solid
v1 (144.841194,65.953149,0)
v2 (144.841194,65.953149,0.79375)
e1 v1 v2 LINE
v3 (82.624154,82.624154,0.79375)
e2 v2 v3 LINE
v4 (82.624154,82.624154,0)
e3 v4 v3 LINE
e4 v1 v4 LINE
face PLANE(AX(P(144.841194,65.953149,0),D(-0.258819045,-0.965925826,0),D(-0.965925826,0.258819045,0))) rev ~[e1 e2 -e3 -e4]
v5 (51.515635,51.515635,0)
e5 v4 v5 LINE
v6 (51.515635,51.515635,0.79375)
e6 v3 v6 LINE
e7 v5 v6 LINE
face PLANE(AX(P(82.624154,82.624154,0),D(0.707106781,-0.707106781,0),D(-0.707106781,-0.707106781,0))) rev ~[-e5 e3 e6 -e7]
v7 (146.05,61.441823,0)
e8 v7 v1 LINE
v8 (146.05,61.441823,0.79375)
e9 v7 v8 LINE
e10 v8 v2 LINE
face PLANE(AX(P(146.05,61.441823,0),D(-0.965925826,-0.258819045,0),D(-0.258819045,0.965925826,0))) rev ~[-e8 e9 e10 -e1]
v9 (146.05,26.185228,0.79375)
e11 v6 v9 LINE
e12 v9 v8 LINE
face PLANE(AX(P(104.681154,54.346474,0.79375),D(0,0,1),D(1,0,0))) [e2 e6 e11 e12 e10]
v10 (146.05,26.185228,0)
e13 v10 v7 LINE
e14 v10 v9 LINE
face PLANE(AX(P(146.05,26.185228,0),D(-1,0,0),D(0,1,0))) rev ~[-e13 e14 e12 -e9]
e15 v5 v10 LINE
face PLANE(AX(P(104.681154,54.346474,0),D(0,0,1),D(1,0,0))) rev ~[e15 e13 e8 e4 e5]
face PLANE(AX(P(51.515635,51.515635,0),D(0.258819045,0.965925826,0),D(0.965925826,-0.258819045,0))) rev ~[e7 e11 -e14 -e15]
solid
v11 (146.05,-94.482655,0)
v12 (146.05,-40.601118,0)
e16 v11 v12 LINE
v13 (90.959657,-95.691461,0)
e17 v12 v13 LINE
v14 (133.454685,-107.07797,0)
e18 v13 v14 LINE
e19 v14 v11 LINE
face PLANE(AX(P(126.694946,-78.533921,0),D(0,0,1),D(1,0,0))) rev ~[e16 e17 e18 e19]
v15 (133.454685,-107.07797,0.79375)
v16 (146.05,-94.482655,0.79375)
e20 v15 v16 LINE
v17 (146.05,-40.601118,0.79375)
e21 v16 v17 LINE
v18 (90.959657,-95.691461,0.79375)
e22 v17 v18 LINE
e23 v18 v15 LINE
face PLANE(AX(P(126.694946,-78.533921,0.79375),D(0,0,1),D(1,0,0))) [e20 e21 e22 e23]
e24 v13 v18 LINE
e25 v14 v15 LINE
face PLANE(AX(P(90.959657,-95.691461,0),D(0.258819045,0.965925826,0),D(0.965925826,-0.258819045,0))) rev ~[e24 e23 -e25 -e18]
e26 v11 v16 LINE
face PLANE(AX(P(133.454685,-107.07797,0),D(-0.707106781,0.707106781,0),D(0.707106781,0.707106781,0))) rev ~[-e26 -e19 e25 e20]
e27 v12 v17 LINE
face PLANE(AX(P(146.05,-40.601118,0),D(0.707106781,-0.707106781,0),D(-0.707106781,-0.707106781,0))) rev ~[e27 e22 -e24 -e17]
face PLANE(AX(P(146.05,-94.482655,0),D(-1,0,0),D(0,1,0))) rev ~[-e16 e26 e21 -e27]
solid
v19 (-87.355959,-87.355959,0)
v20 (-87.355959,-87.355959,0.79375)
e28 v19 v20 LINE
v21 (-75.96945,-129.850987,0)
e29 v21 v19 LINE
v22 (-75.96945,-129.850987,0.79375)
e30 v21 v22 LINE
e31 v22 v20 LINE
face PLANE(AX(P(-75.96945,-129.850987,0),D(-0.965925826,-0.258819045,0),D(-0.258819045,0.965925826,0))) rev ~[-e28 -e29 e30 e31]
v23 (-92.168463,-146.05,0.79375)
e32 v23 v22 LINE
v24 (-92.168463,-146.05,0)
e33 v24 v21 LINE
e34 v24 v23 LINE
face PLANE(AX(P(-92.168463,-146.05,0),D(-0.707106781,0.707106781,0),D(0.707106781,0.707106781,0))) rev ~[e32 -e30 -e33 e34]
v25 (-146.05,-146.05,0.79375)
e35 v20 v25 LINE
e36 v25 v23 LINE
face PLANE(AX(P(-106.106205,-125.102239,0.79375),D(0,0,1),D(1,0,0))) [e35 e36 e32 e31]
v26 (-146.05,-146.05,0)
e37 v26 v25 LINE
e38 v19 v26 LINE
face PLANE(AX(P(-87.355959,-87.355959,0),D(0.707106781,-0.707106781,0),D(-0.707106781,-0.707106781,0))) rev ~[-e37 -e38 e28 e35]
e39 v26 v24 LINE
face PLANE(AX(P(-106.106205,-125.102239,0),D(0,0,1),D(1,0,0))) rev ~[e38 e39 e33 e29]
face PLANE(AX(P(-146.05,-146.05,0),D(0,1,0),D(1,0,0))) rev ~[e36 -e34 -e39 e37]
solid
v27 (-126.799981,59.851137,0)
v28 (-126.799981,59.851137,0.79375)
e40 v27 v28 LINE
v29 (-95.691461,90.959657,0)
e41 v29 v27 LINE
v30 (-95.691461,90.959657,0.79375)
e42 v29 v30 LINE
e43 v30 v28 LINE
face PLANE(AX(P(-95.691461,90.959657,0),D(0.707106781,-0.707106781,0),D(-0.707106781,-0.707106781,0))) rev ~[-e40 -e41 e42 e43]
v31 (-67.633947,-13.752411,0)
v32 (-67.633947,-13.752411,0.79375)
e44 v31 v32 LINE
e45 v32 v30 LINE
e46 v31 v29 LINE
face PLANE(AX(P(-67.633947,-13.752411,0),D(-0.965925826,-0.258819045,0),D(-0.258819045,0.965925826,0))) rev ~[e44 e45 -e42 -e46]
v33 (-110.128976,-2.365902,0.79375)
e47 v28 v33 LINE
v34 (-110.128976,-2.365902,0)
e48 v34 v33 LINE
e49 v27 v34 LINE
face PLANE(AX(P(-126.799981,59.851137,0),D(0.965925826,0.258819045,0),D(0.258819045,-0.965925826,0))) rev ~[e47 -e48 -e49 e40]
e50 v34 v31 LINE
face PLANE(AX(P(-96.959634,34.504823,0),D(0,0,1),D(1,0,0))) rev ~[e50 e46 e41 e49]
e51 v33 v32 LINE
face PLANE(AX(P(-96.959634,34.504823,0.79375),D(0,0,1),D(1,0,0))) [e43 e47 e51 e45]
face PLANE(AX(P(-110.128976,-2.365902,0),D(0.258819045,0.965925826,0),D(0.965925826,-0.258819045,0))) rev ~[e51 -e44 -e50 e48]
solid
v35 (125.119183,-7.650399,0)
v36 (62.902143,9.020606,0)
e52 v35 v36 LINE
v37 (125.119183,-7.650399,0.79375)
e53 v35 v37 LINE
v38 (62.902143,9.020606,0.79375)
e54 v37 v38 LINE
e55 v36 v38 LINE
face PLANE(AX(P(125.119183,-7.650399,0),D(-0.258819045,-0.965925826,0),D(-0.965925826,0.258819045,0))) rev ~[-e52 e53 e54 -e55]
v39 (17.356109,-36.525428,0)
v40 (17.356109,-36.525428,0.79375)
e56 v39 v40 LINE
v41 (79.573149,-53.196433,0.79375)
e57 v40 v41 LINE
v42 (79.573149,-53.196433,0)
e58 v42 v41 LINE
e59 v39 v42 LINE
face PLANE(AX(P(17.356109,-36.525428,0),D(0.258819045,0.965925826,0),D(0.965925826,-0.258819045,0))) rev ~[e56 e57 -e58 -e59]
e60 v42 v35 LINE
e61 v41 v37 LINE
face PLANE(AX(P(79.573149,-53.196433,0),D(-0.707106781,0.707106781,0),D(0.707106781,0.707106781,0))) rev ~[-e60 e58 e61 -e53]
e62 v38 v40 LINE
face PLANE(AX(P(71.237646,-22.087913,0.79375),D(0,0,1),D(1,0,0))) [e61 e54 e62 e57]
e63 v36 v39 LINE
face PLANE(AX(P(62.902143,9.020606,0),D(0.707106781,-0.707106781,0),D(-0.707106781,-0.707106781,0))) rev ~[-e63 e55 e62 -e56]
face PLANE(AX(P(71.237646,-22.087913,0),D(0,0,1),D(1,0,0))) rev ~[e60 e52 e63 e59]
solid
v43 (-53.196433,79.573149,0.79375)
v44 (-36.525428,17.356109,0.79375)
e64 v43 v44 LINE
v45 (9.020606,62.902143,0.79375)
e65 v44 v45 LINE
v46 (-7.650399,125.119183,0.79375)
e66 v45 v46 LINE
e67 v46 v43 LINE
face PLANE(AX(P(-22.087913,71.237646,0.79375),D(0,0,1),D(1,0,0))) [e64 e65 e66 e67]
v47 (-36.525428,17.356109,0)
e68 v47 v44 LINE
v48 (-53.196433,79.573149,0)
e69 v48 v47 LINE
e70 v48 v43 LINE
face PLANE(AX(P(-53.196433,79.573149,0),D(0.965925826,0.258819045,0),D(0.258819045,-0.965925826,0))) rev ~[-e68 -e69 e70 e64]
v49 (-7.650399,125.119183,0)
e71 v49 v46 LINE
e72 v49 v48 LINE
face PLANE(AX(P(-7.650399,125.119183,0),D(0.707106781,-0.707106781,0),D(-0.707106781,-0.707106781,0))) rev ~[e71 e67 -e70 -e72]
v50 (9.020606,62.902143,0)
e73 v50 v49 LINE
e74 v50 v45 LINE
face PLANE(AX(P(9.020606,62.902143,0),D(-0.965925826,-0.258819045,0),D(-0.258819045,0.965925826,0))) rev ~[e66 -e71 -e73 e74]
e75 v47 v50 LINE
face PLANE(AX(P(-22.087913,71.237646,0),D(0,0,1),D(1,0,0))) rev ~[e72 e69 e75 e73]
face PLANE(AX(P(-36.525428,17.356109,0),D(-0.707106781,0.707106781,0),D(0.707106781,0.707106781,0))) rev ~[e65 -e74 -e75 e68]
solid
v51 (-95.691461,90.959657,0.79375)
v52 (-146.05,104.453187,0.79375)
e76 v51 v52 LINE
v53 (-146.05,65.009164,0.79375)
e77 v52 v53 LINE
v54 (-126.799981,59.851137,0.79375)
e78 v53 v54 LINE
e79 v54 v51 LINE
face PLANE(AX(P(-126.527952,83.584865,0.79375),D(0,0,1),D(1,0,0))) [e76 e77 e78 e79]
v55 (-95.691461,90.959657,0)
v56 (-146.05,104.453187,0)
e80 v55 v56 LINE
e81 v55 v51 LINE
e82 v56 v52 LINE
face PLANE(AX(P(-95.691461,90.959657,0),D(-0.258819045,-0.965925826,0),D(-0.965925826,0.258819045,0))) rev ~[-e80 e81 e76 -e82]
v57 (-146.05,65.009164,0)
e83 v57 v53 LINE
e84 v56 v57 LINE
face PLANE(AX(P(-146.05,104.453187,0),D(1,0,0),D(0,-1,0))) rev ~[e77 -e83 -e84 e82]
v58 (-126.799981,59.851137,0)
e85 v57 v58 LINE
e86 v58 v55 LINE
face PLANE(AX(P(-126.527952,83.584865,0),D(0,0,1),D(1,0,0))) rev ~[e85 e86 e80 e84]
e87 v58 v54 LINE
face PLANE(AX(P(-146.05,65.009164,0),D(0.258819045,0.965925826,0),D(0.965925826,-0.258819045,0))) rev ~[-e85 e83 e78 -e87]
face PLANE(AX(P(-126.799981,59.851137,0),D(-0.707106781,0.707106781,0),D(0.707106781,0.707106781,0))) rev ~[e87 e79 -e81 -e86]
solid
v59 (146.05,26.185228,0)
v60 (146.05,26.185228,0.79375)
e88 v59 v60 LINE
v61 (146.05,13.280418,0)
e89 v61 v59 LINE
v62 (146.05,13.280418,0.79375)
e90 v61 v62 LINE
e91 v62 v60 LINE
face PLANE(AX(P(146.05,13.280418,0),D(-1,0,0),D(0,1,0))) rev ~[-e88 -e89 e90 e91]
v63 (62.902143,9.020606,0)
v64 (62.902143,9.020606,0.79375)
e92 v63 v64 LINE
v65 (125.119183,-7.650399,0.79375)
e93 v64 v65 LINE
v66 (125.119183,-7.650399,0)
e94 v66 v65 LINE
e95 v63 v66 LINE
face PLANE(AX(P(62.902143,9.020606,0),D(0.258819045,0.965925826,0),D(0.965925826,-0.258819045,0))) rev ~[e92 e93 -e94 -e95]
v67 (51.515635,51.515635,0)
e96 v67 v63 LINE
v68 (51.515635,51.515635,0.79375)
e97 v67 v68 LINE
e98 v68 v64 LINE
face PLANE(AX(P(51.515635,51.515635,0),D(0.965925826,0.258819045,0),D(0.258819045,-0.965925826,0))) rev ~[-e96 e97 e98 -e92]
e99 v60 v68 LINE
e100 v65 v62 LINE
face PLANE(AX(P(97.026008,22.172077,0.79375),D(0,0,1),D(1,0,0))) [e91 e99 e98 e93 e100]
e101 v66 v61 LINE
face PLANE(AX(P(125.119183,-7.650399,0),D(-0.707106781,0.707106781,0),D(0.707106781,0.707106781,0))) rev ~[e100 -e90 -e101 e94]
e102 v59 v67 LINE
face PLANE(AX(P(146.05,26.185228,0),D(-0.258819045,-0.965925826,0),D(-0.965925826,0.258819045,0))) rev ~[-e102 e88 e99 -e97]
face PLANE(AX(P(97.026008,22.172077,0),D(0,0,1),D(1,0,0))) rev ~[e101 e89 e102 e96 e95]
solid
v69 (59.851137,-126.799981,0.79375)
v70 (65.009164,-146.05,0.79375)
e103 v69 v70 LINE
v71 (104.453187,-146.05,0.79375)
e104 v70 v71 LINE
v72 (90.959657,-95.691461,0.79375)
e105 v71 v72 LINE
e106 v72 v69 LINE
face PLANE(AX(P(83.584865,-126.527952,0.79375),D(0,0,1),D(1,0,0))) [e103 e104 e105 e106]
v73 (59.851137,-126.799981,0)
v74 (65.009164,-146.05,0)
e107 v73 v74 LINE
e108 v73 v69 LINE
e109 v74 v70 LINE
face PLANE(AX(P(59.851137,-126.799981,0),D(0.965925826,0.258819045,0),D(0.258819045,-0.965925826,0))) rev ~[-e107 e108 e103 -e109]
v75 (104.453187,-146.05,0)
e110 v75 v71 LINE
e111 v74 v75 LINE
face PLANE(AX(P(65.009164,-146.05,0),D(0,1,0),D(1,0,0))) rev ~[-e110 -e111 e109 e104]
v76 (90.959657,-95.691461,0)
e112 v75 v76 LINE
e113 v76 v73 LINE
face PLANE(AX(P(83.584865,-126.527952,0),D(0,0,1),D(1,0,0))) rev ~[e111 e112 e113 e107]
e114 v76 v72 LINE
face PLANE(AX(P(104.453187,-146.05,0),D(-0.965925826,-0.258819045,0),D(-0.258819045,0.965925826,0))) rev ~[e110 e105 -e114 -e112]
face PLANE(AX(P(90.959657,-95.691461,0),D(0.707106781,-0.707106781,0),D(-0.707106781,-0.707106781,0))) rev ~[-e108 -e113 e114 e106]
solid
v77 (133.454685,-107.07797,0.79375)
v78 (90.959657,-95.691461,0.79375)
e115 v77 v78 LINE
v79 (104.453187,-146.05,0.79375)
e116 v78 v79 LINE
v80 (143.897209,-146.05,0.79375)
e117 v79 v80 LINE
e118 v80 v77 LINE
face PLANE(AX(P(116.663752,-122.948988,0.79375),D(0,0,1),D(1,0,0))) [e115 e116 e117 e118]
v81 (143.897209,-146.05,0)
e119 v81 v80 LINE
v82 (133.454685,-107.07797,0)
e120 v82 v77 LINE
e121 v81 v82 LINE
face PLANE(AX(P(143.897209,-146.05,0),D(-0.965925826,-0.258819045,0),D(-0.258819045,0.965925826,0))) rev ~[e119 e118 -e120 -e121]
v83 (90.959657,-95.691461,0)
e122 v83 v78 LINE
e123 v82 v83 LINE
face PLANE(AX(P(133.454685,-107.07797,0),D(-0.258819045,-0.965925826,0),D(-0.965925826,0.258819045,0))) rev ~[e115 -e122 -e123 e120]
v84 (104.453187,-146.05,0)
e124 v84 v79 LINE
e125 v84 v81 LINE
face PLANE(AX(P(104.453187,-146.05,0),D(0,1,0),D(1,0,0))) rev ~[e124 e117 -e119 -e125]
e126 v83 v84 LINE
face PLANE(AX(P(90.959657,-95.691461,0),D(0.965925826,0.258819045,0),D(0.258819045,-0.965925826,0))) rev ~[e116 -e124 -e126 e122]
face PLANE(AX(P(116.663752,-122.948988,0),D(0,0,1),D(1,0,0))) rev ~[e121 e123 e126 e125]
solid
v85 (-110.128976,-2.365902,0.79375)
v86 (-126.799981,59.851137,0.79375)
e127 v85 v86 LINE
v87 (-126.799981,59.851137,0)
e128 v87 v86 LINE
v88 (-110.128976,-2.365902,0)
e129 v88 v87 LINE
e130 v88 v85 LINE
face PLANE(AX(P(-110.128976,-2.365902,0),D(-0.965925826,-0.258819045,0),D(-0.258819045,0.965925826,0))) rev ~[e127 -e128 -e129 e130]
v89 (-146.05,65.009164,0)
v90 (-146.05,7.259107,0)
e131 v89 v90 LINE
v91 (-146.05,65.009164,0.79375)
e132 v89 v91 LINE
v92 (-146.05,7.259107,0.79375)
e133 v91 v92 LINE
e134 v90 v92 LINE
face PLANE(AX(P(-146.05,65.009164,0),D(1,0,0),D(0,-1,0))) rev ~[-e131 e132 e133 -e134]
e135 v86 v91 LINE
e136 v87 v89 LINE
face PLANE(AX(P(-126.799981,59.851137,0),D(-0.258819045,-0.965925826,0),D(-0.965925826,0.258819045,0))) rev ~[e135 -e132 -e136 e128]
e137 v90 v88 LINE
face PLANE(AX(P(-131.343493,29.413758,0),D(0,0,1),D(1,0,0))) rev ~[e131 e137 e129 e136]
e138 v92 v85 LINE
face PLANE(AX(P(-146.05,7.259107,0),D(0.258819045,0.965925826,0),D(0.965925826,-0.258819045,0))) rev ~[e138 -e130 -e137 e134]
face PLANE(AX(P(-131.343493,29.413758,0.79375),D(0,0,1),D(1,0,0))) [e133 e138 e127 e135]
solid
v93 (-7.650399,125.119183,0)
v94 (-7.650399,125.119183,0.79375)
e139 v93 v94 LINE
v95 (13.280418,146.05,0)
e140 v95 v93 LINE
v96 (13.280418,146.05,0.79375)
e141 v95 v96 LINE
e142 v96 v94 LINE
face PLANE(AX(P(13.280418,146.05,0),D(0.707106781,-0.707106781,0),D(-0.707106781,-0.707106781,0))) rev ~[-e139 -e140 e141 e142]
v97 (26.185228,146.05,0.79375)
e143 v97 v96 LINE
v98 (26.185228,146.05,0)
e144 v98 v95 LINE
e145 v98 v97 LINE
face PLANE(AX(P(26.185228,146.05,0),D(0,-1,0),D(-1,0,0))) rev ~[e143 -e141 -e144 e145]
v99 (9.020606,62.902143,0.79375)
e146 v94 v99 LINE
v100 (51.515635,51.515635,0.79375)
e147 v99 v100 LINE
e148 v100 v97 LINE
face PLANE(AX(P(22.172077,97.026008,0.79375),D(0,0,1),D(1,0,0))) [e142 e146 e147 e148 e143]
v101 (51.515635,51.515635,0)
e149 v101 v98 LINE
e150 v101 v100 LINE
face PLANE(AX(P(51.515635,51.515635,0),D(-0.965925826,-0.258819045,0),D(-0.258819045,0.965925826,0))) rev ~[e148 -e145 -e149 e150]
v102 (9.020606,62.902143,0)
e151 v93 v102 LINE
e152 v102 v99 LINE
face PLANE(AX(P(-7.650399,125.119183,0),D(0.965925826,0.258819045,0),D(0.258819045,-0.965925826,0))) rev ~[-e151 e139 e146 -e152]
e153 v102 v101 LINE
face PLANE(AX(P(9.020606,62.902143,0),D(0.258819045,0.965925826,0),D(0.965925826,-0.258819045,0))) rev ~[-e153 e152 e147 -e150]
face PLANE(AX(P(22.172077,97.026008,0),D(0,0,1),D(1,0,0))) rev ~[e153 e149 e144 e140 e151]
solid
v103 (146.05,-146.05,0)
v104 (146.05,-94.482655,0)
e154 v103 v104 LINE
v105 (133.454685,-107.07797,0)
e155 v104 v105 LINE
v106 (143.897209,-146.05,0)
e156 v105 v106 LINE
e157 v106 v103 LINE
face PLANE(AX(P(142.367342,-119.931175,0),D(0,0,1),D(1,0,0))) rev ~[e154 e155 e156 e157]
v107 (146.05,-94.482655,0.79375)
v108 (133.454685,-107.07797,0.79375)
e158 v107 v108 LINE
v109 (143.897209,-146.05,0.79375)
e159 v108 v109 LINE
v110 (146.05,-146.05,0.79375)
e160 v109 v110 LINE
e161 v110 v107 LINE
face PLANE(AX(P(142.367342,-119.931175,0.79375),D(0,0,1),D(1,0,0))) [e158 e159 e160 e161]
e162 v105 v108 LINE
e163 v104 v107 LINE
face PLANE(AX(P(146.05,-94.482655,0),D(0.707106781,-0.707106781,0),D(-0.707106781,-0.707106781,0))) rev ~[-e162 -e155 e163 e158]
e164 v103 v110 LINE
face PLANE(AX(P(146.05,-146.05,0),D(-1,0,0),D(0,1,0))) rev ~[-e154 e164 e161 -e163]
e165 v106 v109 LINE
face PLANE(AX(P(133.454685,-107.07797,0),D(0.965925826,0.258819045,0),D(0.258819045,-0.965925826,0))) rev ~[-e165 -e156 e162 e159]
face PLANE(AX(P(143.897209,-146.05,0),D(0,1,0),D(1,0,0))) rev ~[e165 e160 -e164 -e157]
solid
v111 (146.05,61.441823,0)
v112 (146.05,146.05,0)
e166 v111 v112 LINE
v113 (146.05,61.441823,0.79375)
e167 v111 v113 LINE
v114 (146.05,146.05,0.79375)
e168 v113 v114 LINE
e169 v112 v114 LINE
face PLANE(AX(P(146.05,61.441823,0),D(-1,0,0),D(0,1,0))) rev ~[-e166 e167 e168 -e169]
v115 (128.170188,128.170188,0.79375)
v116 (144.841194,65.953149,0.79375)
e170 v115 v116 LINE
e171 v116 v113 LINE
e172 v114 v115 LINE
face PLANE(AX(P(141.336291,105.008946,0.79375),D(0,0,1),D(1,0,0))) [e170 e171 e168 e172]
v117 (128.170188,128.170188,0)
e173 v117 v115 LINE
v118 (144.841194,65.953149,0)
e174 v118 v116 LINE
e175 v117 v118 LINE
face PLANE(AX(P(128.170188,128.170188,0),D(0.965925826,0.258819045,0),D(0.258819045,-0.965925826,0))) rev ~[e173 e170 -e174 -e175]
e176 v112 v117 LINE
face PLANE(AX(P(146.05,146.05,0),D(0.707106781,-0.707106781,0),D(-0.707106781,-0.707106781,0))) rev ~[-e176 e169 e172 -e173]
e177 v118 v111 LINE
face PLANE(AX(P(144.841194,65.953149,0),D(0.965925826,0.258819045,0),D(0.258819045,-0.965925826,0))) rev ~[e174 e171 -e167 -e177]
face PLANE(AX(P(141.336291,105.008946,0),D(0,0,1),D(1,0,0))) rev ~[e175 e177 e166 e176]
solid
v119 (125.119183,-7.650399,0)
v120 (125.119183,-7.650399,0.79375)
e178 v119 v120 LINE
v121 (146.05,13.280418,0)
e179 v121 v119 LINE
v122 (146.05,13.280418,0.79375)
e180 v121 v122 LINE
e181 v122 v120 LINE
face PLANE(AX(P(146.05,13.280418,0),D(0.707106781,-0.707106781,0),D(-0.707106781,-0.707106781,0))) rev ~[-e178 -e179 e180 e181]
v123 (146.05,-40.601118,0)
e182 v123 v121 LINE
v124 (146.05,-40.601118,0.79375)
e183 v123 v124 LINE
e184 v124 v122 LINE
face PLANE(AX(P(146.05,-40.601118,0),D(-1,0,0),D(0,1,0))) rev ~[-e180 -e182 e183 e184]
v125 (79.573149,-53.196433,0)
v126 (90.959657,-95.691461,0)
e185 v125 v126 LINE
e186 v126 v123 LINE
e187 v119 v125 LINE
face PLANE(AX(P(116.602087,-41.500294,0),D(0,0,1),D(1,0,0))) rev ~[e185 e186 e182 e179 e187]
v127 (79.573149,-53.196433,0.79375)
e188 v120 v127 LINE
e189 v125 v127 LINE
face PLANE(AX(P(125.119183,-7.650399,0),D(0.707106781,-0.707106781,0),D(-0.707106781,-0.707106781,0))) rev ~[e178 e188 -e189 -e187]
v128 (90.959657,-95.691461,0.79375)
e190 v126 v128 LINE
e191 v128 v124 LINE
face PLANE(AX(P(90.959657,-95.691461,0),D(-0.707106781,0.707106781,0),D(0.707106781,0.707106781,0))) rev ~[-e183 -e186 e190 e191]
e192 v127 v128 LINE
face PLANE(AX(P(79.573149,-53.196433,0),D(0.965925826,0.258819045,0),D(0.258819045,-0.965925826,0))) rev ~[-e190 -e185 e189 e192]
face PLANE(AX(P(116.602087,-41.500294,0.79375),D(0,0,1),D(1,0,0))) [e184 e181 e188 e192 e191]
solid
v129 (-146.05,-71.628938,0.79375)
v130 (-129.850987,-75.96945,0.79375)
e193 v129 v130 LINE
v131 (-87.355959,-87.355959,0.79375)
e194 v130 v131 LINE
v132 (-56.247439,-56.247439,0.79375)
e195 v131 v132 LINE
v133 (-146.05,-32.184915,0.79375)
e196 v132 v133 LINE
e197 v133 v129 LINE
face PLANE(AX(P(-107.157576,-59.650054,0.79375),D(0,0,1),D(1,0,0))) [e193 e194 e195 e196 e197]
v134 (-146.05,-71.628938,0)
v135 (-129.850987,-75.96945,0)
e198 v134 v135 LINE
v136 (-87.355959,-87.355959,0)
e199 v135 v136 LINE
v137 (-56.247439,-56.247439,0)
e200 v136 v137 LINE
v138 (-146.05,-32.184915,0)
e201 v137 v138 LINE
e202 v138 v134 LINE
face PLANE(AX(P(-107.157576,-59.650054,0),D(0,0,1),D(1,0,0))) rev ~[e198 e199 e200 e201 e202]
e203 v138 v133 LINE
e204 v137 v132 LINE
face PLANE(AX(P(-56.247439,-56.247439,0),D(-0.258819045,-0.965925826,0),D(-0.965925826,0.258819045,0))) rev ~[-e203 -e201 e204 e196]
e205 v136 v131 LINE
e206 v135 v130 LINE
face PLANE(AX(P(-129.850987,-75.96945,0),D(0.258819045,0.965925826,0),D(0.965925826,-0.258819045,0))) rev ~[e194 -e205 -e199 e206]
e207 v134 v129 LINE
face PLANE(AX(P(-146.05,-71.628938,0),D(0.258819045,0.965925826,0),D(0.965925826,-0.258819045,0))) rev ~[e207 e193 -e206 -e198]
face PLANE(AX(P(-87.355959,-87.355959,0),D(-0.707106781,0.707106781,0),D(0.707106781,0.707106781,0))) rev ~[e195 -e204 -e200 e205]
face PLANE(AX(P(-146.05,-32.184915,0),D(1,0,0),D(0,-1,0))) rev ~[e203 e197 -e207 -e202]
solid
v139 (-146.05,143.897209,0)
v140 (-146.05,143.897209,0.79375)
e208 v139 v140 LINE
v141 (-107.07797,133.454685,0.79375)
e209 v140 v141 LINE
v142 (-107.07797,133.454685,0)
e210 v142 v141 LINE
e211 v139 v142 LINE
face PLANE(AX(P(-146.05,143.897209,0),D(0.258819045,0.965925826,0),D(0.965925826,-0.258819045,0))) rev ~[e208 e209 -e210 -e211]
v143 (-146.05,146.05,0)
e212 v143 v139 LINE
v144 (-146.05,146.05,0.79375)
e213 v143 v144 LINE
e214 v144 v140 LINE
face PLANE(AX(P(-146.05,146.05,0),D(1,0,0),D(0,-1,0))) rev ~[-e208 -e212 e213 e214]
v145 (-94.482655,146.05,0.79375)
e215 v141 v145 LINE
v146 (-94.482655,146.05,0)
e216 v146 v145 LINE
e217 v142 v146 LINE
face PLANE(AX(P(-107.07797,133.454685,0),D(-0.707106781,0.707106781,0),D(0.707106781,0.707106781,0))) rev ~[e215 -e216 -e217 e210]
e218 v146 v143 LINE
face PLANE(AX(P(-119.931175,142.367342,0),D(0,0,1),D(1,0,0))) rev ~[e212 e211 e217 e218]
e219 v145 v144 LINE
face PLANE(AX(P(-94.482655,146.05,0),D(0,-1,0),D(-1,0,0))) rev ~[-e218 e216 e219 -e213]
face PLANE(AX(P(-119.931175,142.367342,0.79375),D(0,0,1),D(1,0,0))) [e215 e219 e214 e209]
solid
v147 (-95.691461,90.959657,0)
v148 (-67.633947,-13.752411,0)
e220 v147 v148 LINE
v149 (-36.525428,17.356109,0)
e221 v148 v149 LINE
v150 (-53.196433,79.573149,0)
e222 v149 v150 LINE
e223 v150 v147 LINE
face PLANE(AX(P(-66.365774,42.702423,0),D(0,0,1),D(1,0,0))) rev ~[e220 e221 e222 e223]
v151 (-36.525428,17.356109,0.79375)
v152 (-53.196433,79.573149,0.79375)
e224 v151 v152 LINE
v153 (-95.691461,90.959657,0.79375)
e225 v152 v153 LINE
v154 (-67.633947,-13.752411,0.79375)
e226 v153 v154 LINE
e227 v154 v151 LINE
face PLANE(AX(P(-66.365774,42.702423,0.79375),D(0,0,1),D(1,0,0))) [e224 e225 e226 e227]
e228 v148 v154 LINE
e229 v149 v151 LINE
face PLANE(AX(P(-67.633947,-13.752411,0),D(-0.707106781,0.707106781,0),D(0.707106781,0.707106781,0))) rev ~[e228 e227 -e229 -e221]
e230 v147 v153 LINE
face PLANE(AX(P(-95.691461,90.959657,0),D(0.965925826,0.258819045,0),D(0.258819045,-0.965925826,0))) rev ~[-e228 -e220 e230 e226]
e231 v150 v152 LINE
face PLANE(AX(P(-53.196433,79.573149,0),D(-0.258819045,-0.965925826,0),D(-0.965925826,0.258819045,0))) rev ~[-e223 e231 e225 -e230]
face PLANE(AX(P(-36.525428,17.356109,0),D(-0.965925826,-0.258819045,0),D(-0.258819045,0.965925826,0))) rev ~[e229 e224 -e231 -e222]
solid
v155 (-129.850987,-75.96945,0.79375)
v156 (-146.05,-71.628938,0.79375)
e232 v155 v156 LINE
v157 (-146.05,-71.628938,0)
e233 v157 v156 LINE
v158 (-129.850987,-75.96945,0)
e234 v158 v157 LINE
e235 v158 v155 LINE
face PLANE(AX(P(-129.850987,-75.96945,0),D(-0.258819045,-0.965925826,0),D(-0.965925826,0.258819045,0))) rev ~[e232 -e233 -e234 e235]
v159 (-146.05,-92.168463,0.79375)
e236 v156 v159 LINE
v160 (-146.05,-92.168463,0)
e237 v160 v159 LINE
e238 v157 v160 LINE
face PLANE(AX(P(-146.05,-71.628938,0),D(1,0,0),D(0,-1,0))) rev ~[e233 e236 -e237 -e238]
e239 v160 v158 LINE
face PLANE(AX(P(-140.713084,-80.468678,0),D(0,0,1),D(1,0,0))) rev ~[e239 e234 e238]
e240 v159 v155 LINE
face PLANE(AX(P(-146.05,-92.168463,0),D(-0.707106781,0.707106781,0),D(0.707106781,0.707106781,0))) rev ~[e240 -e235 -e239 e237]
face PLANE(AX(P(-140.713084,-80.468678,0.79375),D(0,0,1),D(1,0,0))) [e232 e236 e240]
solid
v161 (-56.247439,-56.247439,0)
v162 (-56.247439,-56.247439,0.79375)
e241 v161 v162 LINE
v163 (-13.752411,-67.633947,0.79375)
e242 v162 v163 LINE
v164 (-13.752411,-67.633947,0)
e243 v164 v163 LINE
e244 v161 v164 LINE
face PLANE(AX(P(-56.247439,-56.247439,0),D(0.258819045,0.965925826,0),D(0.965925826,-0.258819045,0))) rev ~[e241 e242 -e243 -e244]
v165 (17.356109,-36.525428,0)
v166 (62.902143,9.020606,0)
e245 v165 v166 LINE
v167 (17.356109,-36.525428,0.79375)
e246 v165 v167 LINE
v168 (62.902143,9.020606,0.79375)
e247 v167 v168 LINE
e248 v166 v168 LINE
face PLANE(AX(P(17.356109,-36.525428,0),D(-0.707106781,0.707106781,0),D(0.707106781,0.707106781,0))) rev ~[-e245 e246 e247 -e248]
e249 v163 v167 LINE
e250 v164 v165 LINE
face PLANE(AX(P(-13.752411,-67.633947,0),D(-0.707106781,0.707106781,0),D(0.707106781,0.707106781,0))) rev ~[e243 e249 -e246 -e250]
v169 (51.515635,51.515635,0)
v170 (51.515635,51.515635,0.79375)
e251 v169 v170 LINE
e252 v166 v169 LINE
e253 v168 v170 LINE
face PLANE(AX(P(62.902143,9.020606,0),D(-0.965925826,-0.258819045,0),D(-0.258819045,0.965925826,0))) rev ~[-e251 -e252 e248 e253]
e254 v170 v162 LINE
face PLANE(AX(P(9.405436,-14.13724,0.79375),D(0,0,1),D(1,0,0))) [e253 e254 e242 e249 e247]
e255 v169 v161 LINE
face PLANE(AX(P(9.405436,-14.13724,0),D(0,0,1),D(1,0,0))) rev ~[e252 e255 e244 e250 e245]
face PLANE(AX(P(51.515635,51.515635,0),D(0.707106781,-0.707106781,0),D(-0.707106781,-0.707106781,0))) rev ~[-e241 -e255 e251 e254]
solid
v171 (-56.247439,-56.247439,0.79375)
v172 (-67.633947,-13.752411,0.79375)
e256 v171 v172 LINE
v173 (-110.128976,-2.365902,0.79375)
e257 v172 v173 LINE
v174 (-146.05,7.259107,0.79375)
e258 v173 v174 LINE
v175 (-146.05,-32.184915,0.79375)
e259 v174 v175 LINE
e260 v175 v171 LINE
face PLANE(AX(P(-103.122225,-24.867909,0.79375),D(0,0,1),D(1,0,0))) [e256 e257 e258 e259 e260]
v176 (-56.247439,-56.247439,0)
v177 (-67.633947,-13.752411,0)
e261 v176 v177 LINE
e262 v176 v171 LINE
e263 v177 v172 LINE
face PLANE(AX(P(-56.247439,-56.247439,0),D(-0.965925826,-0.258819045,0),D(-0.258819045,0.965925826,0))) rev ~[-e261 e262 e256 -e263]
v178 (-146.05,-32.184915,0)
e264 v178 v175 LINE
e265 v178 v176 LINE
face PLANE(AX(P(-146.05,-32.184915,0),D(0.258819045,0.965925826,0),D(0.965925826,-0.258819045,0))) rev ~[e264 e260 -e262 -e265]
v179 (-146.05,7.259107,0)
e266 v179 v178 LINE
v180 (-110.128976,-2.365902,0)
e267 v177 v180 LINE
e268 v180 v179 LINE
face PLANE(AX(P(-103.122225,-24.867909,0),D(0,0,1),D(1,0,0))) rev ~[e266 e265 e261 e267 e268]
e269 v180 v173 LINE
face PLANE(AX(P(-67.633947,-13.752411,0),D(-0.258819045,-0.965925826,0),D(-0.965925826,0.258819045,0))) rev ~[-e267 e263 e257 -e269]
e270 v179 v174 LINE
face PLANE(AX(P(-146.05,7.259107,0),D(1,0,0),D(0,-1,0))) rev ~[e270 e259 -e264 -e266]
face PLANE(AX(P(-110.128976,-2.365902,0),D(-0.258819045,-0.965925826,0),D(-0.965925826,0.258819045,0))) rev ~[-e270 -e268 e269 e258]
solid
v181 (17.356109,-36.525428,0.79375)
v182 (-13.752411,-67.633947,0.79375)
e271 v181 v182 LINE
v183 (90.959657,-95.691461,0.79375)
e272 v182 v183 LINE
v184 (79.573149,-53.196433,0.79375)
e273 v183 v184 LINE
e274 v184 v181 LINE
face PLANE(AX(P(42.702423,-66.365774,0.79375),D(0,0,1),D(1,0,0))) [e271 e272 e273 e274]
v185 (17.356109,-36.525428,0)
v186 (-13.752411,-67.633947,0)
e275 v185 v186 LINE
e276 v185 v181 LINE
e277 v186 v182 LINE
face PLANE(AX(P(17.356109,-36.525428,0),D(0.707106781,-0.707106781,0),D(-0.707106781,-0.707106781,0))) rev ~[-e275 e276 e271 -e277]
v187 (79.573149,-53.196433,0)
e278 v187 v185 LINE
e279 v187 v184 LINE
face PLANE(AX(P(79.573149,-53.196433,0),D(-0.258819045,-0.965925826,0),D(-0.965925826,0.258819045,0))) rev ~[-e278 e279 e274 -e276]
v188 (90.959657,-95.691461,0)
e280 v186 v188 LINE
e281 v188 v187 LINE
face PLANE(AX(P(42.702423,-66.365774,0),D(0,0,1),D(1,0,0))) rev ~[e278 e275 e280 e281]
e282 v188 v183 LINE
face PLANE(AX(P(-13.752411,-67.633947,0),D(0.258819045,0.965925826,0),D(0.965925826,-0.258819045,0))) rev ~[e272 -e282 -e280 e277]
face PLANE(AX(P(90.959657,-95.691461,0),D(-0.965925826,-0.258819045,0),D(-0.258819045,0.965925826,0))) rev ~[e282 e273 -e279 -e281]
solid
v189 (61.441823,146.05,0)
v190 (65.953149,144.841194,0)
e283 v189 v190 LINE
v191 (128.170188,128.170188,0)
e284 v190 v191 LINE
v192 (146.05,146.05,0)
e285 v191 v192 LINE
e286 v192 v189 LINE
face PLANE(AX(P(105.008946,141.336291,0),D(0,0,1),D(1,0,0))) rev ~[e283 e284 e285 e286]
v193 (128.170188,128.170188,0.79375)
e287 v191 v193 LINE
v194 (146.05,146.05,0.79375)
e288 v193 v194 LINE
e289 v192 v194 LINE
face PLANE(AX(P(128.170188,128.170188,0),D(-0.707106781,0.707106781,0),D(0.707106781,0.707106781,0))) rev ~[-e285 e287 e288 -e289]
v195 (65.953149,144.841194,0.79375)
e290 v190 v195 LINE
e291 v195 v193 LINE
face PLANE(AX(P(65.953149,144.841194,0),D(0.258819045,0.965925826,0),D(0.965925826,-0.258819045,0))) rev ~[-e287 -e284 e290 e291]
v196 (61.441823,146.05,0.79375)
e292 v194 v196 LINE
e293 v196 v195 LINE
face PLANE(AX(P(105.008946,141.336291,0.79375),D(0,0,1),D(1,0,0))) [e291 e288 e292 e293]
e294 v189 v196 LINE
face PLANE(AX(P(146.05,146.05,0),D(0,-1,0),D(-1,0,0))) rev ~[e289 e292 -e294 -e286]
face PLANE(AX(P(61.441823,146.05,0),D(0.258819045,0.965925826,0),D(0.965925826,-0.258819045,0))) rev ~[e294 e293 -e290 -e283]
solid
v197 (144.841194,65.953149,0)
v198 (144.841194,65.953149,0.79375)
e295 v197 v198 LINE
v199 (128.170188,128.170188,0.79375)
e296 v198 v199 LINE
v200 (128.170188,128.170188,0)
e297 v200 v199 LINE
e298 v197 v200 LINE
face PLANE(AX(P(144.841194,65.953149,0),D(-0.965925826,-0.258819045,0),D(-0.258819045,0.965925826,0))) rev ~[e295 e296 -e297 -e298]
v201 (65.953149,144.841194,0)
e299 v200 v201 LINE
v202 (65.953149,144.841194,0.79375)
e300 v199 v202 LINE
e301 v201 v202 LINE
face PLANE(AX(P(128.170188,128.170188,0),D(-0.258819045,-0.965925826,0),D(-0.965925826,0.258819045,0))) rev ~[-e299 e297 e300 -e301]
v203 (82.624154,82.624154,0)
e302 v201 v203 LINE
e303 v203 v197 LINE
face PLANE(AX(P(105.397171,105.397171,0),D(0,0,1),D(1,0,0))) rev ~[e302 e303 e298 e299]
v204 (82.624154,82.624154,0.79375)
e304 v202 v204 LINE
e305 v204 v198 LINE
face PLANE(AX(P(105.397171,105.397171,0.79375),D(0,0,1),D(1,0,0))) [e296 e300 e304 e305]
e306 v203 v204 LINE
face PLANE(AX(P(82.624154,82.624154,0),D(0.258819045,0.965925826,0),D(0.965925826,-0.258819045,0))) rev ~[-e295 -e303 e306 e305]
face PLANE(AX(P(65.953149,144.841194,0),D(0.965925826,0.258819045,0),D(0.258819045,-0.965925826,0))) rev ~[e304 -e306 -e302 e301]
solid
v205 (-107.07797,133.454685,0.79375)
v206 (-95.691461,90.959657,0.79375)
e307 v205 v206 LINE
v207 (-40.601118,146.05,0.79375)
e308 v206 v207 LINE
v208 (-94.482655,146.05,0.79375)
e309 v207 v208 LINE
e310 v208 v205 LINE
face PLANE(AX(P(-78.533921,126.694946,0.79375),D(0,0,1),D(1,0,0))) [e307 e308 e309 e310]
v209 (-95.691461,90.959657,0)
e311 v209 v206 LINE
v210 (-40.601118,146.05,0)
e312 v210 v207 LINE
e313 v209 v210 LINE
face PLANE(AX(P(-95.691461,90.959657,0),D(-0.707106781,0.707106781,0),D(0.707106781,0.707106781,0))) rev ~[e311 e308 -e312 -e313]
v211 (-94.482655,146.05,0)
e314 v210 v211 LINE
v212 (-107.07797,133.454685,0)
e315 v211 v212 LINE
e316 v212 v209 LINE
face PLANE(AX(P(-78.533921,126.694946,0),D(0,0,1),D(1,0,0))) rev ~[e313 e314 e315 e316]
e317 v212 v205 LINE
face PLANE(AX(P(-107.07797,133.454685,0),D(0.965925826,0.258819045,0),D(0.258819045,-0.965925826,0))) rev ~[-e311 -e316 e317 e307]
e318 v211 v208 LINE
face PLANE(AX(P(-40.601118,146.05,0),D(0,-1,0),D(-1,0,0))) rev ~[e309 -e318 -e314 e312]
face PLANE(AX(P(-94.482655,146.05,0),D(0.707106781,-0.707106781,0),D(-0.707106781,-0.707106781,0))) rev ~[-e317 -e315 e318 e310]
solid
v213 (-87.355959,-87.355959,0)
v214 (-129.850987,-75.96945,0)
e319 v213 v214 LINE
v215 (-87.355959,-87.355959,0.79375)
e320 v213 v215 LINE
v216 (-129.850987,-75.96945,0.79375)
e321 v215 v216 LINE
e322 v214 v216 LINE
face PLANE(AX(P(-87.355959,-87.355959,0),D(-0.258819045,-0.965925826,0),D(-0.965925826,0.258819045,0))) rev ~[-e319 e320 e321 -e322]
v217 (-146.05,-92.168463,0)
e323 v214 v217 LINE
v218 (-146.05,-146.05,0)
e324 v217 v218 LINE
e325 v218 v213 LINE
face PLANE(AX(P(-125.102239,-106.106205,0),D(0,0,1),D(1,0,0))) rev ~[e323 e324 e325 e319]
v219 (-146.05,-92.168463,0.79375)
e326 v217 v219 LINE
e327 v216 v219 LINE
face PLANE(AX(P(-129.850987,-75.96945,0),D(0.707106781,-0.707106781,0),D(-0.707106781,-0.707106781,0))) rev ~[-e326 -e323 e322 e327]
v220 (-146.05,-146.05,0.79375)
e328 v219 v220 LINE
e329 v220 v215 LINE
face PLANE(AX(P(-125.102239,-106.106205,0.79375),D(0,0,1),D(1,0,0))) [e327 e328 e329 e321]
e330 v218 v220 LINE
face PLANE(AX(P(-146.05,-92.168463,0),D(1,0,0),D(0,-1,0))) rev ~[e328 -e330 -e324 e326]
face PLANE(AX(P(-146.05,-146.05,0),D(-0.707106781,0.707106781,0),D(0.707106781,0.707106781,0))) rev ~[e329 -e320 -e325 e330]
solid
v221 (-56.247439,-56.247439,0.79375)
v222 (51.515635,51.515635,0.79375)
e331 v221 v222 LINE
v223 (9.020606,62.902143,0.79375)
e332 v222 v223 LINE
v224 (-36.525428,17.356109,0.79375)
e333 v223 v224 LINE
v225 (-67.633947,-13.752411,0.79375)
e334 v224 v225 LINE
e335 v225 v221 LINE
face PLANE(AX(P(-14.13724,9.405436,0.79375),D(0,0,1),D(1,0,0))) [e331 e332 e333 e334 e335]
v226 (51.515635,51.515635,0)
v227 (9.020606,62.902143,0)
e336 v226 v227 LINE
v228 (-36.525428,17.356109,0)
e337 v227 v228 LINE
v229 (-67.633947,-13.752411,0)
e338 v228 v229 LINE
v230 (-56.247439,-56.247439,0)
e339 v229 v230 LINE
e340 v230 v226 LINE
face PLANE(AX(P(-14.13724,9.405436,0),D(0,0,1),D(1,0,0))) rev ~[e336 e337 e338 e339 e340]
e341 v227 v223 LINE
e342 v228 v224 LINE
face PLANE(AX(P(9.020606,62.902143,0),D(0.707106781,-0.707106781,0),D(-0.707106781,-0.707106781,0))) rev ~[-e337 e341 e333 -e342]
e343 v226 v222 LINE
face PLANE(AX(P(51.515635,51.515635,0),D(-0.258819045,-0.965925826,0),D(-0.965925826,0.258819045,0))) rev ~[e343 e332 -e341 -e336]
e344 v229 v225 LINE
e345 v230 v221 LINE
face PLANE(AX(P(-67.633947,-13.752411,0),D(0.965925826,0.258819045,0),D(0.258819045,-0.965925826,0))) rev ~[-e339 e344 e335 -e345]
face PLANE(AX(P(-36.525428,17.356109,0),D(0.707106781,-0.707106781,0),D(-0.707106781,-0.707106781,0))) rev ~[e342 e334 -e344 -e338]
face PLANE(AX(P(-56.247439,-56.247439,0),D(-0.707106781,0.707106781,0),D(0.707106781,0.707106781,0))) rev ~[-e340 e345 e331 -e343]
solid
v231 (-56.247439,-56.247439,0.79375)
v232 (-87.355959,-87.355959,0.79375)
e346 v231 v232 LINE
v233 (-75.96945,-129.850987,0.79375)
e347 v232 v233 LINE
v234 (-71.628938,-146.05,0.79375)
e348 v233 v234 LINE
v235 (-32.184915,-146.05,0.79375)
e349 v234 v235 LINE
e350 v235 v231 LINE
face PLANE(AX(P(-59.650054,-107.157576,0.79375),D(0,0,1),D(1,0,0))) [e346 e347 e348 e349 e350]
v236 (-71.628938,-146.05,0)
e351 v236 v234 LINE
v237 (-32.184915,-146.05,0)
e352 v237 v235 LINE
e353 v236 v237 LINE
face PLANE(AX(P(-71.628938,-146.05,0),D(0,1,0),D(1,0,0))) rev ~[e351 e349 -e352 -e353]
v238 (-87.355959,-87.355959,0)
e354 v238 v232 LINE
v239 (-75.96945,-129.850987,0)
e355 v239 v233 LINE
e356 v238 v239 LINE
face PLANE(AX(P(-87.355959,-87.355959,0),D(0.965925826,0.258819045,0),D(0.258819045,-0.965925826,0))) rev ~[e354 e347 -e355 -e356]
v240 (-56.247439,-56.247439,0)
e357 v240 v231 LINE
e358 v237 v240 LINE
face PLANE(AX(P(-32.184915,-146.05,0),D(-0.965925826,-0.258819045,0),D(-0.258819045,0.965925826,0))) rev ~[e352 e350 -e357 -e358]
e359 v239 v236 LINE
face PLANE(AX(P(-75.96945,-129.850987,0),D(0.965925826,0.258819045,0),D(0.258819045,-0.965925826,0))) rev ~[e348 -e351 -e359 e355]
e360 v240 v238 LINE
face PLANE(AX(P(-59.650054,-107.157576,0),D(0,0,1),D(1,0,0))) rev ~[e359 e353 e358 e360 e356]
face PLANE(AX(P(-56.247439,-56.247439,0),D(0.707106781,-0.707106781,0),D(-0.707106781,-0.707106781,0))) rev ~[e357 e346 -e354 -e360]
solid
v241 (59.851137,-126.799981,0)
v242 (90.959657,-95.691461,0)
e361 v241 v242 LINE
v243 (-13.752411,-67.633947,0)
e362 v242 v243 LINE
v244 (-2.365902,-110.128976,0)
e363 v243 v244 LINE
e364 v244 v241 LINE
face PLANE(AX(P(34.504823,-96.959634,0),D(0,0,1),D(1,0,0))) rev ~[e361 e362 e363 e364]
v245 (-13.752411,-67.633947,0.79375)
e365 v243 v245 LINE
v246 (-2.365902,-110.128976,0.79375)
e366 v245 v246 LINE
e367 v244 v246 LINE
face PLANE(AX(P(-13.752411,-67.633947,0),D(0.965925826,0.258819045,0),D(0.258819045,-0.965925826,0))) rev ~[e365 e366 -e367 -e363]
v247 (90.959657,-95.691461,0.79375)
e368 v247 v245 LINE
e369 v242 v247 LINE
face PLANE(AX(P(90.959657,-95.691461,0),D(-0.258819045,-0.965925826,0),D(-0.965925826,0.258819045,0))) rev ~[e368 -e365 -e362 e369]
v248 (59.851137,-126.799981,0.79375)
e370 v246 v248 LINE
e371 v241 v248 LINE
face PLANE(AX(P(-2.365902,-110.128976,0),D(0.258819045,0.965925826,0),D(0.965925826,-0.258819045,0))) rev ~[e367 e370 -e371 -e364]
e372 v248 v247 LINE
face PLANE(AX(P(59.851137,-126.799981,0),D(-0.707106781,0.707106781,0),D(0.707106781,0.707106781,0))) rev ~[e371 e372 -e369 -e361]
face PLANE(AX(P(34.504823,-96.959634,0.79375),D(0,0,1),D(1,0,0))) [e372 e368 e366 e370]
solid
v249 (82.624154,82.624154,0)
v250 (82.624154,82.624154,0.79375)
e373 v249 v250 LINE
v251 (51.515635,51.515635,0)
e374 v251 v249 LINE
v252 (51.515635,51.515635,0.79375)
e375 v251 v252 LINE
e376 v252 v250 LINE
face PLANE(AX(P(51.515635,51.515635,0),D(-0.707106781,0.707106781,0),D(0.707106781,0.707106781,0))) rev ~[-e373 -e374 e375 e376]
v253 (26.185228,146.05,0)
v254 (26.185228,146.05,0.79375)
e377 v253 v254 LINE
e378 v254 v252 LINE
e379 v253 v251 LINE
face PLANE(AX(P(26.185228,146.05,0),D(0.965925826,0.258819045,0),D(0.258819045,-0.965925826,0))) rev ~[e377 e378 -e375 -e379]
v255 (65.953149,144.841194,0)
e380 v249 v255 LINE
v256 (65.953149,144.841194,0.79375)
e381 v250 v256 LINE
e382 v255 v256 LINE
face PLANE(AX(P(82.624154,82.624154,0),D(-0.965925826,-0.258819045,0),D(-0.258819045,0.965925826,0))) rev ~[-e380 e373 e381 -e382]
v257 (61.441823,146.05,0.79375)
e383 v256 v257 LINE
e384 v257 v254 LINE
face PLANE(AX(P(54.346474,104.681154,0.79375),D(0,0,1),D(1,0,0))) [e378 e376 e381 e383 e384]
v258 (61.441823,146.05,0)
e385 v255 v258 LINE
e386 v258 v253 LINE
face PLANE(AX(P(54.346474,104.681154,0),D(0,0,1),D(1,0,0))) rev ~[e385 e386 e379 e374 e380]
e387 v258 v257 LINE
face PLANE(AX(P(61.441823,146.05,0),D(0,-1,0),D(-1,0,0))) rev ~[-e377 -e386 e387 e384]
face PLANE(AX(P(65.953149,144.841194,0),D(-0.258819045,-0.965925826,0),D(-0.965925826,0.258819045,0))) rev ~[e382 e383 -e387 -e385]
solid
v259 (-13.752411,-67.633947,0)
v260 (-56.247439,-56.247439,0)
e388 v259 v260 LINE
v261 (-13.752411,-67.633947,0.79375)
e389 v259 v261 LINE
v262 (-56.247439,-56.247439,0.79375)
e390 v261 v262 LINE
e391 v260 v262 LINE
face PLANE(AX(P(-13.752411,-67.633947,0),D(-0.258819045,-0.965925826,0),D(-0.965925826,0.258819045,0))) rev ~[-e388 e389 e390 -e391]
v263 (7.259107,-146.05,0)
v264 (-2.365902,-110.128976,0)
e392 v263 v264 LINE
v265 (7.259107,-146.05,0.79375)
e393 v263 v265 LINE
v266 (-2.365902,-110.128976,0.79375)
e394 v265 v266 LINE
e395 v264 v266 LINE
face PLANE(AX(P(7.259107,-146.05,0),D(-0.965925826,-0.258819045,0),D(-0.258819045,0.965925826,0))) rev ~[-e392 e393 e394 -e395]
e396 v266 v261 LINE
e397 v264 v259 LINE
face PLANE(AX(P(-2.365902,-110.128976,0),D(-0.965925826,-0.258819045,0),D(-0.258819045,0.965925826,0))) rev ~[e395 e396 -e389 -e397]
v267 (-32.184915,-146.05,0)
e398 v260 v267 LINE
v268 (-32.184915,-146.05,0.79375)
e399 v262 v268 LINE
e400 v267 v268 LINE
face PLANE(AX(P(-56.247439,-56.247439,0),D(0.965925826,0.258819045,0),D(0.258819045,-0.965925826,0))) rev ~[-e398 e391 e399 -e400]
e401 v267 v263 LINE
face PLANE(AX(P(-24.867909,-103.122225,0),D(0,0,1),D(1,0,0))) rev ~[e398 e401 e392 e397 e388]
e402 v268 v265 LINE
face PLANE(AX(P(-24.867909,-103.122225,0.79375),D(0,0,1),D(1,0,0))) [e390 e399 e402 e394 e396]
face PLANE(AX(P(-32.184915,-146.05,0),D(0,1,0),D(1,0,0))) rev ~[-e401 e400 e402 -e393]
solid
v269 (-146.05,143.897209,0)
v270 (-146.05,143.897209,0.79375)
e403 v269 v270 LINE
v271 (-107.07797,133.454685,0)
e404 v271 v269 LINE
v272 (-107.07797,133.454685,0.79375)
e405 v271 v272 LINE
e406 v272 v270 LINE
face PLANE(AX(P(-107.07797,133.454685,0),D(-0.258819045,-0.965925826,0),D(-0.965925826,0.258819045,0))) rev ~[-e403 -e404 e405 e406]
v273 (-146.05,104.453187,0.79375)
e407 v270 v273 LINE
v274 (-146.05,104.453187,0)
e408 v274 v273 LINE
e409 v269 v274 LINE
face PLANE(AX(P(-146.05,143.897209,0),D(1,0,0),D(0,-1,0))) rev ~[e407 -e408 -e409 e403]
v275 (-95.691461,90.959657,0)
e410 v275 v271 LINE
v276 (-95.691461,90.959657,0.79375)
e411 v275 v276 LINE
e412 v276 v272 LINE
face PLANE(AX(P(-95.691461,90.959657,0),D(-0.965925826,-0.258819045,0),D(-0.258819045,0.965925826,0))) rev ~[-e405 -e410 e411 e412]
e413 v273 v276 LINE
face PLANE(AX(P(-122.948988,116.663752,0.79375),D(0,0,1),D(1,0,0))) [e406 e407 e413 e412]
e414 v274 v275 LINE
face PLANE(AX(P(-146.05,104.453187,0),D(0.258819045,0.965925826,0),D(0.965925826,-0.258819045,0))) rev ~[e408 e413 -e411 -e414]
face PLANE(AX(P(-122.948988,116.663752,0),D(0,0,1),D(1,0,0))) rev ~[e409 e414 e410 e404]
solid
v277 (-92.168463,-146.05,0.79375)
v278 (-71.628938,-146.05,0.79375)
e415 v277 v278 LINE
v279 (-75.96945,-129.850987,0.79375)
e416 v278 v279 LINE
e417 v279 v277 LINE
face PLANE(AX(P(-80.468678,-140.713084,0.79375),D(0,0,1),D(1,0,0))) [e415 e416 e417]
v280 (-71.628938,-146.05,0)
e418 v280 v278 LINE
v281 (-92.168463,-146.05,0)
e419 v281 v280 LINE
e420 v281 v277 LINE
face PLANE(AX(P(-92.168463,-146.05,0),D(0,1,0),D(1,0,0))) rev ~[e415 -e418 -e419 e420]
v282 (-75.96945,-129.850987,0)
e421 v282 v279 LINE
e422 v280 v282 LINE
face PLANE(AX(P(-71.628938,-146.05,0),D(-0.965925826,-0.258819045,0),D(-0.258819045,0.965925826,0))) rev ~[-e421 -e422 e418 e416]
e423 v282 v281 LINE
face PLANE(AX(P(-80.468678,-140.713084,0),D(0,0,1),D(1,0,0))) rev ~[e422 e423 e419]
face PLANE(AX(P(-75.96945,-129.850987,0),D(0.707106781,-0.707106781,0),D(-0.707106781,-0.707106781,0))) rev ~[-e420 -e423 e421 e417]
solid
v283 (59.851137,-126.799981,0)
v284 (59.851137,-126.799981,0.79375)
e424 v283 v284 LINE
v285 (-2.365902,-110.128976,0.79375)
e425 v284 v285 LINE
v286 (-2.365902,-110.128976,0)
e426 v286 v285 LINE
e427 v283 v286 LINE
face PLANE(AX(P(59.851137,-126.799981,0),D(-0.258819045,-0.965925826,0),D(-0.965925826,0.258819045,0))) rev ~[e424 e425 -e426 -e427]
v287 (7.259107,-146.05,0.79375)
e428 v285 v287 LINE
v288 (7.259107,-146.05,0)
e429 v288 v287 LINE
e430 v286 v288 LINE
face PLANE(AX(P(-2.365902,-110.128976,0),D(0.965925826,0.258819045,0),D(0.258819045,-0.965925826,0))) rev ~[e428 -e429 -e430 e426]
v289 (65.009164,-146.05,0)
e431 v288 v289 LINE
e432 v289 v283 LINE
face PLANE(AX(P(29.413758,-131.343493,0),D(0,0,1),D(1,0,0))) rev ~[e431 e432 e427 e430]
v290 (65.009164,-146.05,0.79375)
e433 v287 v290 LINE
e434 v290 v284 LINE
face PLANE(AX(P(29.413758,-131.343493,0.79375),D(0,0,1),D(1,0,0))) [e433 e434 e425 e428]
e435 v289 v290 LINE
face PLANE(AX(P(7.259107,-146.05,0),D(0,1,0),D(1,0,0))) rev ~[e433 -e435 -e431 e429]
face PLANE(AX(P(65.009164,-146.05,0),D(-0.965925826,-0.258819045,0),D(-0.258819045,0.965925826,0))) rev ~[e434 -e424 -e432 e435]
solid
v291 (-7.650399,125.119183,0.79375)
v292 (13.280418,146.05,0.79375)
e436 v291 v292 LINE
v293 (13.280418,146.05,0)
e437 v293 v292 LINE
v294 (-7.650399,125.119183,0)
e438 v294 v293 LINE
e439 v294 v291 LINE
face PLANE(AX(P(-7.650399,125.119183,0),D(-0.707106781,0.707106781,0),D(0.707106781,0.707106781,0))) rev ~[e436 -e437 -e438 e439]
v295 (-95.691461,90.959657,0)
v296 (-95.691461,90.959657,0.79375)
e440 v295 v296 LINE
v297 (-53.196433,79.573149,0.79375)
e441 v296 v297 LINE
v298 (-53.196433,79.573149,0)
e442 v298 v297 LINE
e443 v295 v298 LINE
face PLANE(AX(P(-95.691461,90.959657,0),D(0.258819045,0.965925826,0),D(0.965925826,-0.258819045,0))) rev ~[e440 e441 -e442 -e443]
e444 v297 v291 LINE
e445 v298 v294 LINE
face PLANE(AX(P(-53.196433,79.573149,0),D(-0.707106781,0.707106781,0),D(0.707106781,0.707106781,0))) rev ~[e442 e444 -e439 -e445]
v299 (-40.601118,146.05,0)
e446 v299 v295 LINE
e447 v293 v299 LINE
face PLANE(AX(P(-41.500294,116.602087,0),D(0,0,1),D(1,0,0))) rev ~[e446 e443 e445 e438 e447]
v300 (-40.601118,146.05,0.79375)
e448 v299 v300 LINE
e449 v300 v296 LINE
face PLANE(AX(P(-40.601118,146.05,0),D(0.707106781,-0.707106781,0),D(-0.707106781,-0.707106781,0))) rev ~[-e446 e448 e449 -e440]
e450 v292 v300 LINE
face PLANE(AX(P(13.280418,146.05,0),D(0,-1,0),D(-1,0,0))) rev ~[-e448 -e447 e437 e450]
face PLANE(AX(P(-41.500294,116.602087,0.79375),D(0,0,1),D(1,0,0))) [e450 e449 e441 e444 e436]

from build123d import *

# Parameters (mm, degrees)
F1_DEPTH = 0.79375
F2_DEPTH = 0.79375
F3_DEPTH = 0.79375


with BuildPart() as f1:
    # F0 (on Top) → F1 (new body)
    with BuildSketch(Plane.XY):
        Polygon((-7.6503990469, 125.1191826267), (13.2804183263, 146.05), (-40.6011184001, 146.05), (-95.6914612629, 90.9596571371), (-53.1964330331, 79.5731486406), align=None)
    extrude(amount=F1_DEPTH)


with BuildPart() as f1b:
    # F0 (on Top) → F1, piece 2 (new body)
    with BuildSketch(Plane.XY):
        Polygon((-67.6339472858, -13.7524105594), (-95.6914612629, 90.9596571371), (-126.7999809963, 59.8511374038), (-110.1289755157, -2.3659020629), align=None)
    extrude(amount=F1_DEPTH)


with BuildPart() as f1c:
    # F0 (on Top) → F1, piece 3 (new body)
    with BuildSketch(Plane.XY):
        Polygon((-146.05, 104.4531869238), (-95.6914612629, 90.9596571371), (-107.0779697595, 133.454685367), (-146.05, 143.8972093974), align=None)
    extrude(amount=F1_DEPTH)


with BuildPart() as f1d:
    # F0 (on Top) → F1, piece 4 (new body)
    with BuildSketch(Plane.XY):
        Polygon((-75.9694500261, -129.8509867525), (-87.3559585227, -87.3559585227), (-146.05, -146.05), (-92.1684632736, -146.05), align=None)
    extrude(amount=F1_DEPTH)


with BuildPart() as f1e:
    # F0 (on Top) → F1, piece 5 (new body)
    with BuildSketch(Plane.XY):
        Polygon((17.3561091739, -36.5254275525), (-13.7524105594, -67.6339472858), (90.9596571371, -95.6914612629), (79.5731486406, -53.1964330331), align=None)
    extrude(amount=F1_DEPTH)


with BuildPart() as f1f:
    # F0 (on Top) → F1, piece 6 (new body)
    with BuildSketch(Plane.XY):
        Polygon((146.05, -94.4826551265), (146.05, -40.6011184001), (90.9596571371, -95.6914612629), (133.454685367, -107.0779697595), align=None)
    extrude(amount=F1_DEPTH)


with BuildPart() as f1g:
    # F0 (on Top) → F1, piece 7 (new body)
    with BuildSketch(Plane.XY):
        Polygon((104.4531869238, -146.05), (90.9596571371, -95.6914612629), (59.8511374038, -126.7999809963), (65.0091644501, -146.05), align=None)
    extrude(amount=F1_DEPTH)


with BuildPart() as f1h:
    # F0 (on Top) → F1, piece 8 (new body)
    with BuildSketch(Plane.XY):
        Polygon((-56.2474387893, -56.2474387893), (51.5156346635, 51.5156346635), (9.0206064336, 62.9021431601), (-36.5254275525, 17.3561091739), (-67.6339472858, -13.7524105594), align=None)
    extrude(amount=F1_DEPTH)


with BuildPart() as f1i:
    # F0 (on Top) → F1, piece 9 (new body)
    with BuildSketch(Plane.XY):
        Polygon((-13.7524105594, -67.6339472858), (-56.2474387893, -56.2474387893), (-32.1849150347, -146.05), (7.259107439, -146.05), (-2.3659020629, -110.1289755157), align=None)
    extrude(amount=F1_DEPTH)


with BuildPart() as f1j:
    # F0 (on Top) → F1, piece 10 (new body)
    with BuildSketch(Plane.XY):
        Polygon((-87.3559585227, -87.3559585227), (-56.2474387893, -56.2474387893), (-146.05, -32.1849150347), (-146.05, -71.6289375083), (-129.8509867525, -75.9694500261), align=None)
    extrude(amount=F1_DEPTH)


with BuildPart() as f1k:
    # F0 (on Top) → F1, piece 11 (new body)
    with BuildSketch(Plane.XY):
        Polygon((146.05, 13.2804183263), (146.05, 26.1852278146), (51.5156346635, 51.5156346635), (62.9021431601, 9.0206064336), (125.1191826267, -7.6503990469), align=None)
    extrude(amount=F1_DEPTH)


with BuildPart() as f1l:
    # F0 (on Top) → F1, piece 12 (new body)
    with BuildSketch(Plane.XY):
        Polygon((65.9531489163, 144.8411938636), (61.4418229986, 146.05), (26.1852278146, 146.05), (51.5156346635, 51.5156346635), (82.6241543969, 82.6241543969), align=None)
    extrude(amount=F1_DEPTH)


with BuildPart() as f1m:
    # F0 (on Top) → F1, piece 13 (new body)
    with BuildSketch(Plane.XY):
        Polygon((146.05, 61.4418229986), (146.05, 146.05), (128.170188383, 128.170188383), (144.8411938636, 65.9531489163), align=None)
    extrude(amount=F1_DEPTH)


with BuildPart() as f2:
    # F0 (on Top) → F2 (new body)
    with BuildSketch(Plane.XY):
        Polygon((-95.6914612629, 90.9596571371), (-40.6011184001, 146.05), (-94.4826551265, 146.05), (-107.0779697595, 133.454685367), align=None)
    extrude(amount=F2_DEPTH)


with BuildPart() as f2b:
    # F0 (on Top) → F2, piece 2 (new body)
    with BuildSketch(Plane.XY):
        Polygon((-126.7999809963, 59.8511374038), (-95.6914612629, 90.9596571371), (-146.05, 104.4531869238), (-146.05, 65.0091644501), align=None)
    extrude(amount=F2_DEPTH)


with BuildPart() as f2c:
    # F0 (on Top) → F2, piece 3 (new body)
    with BuildSketch(Plane.XY):
        Polygon((-53.1964330331, 79.5731486406), (-95.6914612629, 90.9596571371), (-67.6339472858, -13.7524105594), (-36.5254275525, 17.3561091739), align=None)
    extrude(amount=F2_DEPTH)


with BuildPart() as f2d:
    # F0 (on Top) → F2, piece 4 (new body)
    with BuildSketch(Plane.XY):
        Polygon((-146.05, -32.1849150347), (-56.2474387893, -56.2474387893), (-67.6339472858, -13.7524105594), (-110.1289755157, -2.3659020629), (-146.05, 7.259107439), align=None)
    extrude(amount=F2_DEPTH)


with BuildPart() as f2e:
    # F0 (on Top) → F2, piece 5 (new body)
    with BuildSketch(Plane.XY):
        Polygon((-146.05, -146.05), (-87.3559585227, -87.3559585227), (-129.8509867525, -75.9694500261), (-146.05, -92.1684632736), align=None)
    extrude(amount=F2_DEPTH)


with BuildPart() as f2f:
    # F0 (on Top) → F2, piece 6 (new body)
    with BuildSketch(Plane.XY):
        Polygon((-32.1849150347, -146.05), (-56.2474387893, -56.2474387893), (-87.3559585227, -87.3559585227), (-75.9694500261, -129.8509867525), (-71.6289375083, -146.05), align=None)
    extrude(amount=F2_DEPTH)


with BuildPart() as f2g:
    # F0 (on Top) → F2, piece 7 (new body)
    with BuildSketch(Plane.XY):
        Polygon((62.9021431601, 9.0206064336), (51.5156346635, 51.5156346635), (-56.2474387893, -56.2474387893), (-13.7524105594, -67.6339472858), (17.3561091739, -36.5254275525), align=None)
    extrude(amount=F2_DEPTH)


with BuildPart() as f2h:
    # F0 (on Top) → F2, piece 8 (new body)
    with BuildSketch(Plane.XY):
        Polygon((90.9596571371, -95.6914612629), (-13.7524105594, -67.6339472858), (-2.3659020629, -110.1289755157), (59.8511374038, -126.7999809963), align=None)
    extrude(amount=F2_DEPTH)


with BuildPart() as f2i:
    # F0 (on Top) → F2, piece 9 (new body)
    with BuildSketch(Plane.XY):
        Polygon((133.454685367, -107.0779697595), (90.9596571371, -95.6914612629), (104.4531869238, -146.05), (143.8972093974, -146.05), align=None)
    extrude(amount=F2_DEPTH)


with BuildPart() as f2j:
    # F0 (on Top) → F2, piece 10 (new body)
    with BuildSketch(Plane.XY):
        Polygon((146.05, -40.6011184001), (146.05, 13.2804183263), (125.1191826267, -7.6503990469), (79.5731486406, -53.1964330331), (90.9596571371, -95.6914612629), align=None)
    extrude(amount=F2_DEPTH)


with BuildPart() as f2k:
    # F0 (on Top) → F2, piece 11 (new body)
    with BuildSketch(Plane.XY):
        Polygon((146.05, 26.1852278146), (146.05, 61.4418229986), (144.8411938636, 65.9531489163), (82.6241543969, 82.6241543969), (51.5156346635, 51.5156346635), align=None)
    extrude(amount=F2_DEPTH)


with BuildPart() as f2l:
    # F0 (on Top) → F2, piece 12 (new body)
    with BuildSketch(Plane.XY):
        Polygon((51.5156346635, 51.5156346635), (26.1852278146, 146.05), (13.2804183263, 146.05), (-7.6503990469, 125.1191826267), (9.0206064336, 62.9021431601), align=None)
    extrude(amount=F2_DEPTH)


with BuildPart() as f2m:
    # F0 (on Top) → F2, piece 13 (new body)
    with BuildSketch(Plane.XY):
        Polygon((128.170188383, 128.170188383), (146.05, 146.05), (61.4418229986, 146.05), (65.9531489163, 144.8411938636), align=None)
    extrude(amount=F2_DEPTH)


with BuildPart() as f3:
    # F0 (on Top) → F3 (new body)
    with BuildSketch(Plane.XY):
        Polygon((-107.0779697595, 133.454685367), (-94.4826551265, 146.05), (-146.05, 146.05), (-146.05, 143.8972093974), align=None)
    extrude(amount=F3_DEPTH)


with BuildPart() as f3b:
    # F0 (on Top) → F3, piece 2 (new body)
    with BuildSketch(Plane.XY):
        Polygon((-110.1289755157, -2.3659020629), (-126.7999809963, 59.8511374038), (-146.05, 65.0091644501), (-146.05, 7.259107439), align=None)
    extrude(amount=F3_DEPTH)


with BuildPart() as f3c:
    # F0 (on Top) → F3, piece 3 (new body)
    with BuildSketch(Plane.XY):
        Polygon((9.0206064336, 62.9021431601), (-7.6503990469, 125.1191826267), (-53.1964330331, 79.5731486406), (-36.5254275525, 17.3561091739), align=None)
    extrude(amount=F3_DEPTH)


with BuildPart() as f3d:
    # F0 (on Top) → F3, piece 4 (new body)
    with BuildSketch(Plane.XY):
        Polygon((144.8411938636, 65.9531489163), (128.170188383, 128.170188383), (65.9531489163, 144.8411938636), (82.6241543969, 82.6241543969), align=None)
    extrude(amount=F3_DEPTH)


with BuildPart() as f3e:
    # F0 (on Top) → F3, piece 5 (new body)
    with BuildSketch(Plane.XY):
        Polygon((125.1191826267, -7.6503990469), (62.9021431601, 9.0206064336), (17.3561091739, -36.5254275525), (79.5731486406, -53.1964330331), align=None)
    extrude(amount=F3_DEPTH)


with BuildPart() as f3f:
    # F0 (on Top) → F3, piece 6 (new body)
    with BuildSketch(Plane.XY):
        Polygon((146.05, -146.05), (146.05, -94.4826551265), (133.454685367, -107.0779697595), (143.8972093974, -146.05), align=None)
    extrude(amount=F3_DEPTH)


with BuildPart() as f3g:
    # F0 (on Top) → F3, piece 7 (new body)
    with BuildSketch(Plane.XY):
        Polygon((-2.3659020629, -110.1289755157), (7.259107439, -146.05), (65.0091644501, -146.05), (59.8511374038, -126.7999809963), align=None)
    extrude(amount=F3_DEPTH)


with BuildPart() as f3h:
    # F0 (on Top) → F3, piece 8 (new body)
    with BuildSketch(Plane.XY):
        Polygon((-71.6289375083, -146.05), (-75.9694500261, -129.8509867525), (-92.1684632736, -146.05), align=None)
    extrude(amount=F3_DEPTH)


with BuildPart() as f3i:
    # F0 (on Top) → F3, piece 9 (new body)
    with BuildSketch(Plane.XY):
        Polygon((-146.05, -92.1684632736), (-129.8509867525, -75.9694500261), (-146.05, -71.6289375083), align=None)
    extrude(amount=F3_DEPTH)


solid = Compound([f1.part, f1b.part, f1c.part, f1d.part, f1e.part, f1f.part, f1g.part, f1h.part, f1i.part, f1j.part, f1k.part, f1l.part, f1m.part, f2.part, f2b.part, f2c.part, f2d.part, f2e.part, f2f.part, f2g.part, f2h.part, f2i.part, f2j.part, f2k.part, f2l.part, f2m.part, f3.part, f3b.part, f3c.part, f3d.part, f3e.part, f3f.part, f3g.part, f3h.part, f3i.part])
